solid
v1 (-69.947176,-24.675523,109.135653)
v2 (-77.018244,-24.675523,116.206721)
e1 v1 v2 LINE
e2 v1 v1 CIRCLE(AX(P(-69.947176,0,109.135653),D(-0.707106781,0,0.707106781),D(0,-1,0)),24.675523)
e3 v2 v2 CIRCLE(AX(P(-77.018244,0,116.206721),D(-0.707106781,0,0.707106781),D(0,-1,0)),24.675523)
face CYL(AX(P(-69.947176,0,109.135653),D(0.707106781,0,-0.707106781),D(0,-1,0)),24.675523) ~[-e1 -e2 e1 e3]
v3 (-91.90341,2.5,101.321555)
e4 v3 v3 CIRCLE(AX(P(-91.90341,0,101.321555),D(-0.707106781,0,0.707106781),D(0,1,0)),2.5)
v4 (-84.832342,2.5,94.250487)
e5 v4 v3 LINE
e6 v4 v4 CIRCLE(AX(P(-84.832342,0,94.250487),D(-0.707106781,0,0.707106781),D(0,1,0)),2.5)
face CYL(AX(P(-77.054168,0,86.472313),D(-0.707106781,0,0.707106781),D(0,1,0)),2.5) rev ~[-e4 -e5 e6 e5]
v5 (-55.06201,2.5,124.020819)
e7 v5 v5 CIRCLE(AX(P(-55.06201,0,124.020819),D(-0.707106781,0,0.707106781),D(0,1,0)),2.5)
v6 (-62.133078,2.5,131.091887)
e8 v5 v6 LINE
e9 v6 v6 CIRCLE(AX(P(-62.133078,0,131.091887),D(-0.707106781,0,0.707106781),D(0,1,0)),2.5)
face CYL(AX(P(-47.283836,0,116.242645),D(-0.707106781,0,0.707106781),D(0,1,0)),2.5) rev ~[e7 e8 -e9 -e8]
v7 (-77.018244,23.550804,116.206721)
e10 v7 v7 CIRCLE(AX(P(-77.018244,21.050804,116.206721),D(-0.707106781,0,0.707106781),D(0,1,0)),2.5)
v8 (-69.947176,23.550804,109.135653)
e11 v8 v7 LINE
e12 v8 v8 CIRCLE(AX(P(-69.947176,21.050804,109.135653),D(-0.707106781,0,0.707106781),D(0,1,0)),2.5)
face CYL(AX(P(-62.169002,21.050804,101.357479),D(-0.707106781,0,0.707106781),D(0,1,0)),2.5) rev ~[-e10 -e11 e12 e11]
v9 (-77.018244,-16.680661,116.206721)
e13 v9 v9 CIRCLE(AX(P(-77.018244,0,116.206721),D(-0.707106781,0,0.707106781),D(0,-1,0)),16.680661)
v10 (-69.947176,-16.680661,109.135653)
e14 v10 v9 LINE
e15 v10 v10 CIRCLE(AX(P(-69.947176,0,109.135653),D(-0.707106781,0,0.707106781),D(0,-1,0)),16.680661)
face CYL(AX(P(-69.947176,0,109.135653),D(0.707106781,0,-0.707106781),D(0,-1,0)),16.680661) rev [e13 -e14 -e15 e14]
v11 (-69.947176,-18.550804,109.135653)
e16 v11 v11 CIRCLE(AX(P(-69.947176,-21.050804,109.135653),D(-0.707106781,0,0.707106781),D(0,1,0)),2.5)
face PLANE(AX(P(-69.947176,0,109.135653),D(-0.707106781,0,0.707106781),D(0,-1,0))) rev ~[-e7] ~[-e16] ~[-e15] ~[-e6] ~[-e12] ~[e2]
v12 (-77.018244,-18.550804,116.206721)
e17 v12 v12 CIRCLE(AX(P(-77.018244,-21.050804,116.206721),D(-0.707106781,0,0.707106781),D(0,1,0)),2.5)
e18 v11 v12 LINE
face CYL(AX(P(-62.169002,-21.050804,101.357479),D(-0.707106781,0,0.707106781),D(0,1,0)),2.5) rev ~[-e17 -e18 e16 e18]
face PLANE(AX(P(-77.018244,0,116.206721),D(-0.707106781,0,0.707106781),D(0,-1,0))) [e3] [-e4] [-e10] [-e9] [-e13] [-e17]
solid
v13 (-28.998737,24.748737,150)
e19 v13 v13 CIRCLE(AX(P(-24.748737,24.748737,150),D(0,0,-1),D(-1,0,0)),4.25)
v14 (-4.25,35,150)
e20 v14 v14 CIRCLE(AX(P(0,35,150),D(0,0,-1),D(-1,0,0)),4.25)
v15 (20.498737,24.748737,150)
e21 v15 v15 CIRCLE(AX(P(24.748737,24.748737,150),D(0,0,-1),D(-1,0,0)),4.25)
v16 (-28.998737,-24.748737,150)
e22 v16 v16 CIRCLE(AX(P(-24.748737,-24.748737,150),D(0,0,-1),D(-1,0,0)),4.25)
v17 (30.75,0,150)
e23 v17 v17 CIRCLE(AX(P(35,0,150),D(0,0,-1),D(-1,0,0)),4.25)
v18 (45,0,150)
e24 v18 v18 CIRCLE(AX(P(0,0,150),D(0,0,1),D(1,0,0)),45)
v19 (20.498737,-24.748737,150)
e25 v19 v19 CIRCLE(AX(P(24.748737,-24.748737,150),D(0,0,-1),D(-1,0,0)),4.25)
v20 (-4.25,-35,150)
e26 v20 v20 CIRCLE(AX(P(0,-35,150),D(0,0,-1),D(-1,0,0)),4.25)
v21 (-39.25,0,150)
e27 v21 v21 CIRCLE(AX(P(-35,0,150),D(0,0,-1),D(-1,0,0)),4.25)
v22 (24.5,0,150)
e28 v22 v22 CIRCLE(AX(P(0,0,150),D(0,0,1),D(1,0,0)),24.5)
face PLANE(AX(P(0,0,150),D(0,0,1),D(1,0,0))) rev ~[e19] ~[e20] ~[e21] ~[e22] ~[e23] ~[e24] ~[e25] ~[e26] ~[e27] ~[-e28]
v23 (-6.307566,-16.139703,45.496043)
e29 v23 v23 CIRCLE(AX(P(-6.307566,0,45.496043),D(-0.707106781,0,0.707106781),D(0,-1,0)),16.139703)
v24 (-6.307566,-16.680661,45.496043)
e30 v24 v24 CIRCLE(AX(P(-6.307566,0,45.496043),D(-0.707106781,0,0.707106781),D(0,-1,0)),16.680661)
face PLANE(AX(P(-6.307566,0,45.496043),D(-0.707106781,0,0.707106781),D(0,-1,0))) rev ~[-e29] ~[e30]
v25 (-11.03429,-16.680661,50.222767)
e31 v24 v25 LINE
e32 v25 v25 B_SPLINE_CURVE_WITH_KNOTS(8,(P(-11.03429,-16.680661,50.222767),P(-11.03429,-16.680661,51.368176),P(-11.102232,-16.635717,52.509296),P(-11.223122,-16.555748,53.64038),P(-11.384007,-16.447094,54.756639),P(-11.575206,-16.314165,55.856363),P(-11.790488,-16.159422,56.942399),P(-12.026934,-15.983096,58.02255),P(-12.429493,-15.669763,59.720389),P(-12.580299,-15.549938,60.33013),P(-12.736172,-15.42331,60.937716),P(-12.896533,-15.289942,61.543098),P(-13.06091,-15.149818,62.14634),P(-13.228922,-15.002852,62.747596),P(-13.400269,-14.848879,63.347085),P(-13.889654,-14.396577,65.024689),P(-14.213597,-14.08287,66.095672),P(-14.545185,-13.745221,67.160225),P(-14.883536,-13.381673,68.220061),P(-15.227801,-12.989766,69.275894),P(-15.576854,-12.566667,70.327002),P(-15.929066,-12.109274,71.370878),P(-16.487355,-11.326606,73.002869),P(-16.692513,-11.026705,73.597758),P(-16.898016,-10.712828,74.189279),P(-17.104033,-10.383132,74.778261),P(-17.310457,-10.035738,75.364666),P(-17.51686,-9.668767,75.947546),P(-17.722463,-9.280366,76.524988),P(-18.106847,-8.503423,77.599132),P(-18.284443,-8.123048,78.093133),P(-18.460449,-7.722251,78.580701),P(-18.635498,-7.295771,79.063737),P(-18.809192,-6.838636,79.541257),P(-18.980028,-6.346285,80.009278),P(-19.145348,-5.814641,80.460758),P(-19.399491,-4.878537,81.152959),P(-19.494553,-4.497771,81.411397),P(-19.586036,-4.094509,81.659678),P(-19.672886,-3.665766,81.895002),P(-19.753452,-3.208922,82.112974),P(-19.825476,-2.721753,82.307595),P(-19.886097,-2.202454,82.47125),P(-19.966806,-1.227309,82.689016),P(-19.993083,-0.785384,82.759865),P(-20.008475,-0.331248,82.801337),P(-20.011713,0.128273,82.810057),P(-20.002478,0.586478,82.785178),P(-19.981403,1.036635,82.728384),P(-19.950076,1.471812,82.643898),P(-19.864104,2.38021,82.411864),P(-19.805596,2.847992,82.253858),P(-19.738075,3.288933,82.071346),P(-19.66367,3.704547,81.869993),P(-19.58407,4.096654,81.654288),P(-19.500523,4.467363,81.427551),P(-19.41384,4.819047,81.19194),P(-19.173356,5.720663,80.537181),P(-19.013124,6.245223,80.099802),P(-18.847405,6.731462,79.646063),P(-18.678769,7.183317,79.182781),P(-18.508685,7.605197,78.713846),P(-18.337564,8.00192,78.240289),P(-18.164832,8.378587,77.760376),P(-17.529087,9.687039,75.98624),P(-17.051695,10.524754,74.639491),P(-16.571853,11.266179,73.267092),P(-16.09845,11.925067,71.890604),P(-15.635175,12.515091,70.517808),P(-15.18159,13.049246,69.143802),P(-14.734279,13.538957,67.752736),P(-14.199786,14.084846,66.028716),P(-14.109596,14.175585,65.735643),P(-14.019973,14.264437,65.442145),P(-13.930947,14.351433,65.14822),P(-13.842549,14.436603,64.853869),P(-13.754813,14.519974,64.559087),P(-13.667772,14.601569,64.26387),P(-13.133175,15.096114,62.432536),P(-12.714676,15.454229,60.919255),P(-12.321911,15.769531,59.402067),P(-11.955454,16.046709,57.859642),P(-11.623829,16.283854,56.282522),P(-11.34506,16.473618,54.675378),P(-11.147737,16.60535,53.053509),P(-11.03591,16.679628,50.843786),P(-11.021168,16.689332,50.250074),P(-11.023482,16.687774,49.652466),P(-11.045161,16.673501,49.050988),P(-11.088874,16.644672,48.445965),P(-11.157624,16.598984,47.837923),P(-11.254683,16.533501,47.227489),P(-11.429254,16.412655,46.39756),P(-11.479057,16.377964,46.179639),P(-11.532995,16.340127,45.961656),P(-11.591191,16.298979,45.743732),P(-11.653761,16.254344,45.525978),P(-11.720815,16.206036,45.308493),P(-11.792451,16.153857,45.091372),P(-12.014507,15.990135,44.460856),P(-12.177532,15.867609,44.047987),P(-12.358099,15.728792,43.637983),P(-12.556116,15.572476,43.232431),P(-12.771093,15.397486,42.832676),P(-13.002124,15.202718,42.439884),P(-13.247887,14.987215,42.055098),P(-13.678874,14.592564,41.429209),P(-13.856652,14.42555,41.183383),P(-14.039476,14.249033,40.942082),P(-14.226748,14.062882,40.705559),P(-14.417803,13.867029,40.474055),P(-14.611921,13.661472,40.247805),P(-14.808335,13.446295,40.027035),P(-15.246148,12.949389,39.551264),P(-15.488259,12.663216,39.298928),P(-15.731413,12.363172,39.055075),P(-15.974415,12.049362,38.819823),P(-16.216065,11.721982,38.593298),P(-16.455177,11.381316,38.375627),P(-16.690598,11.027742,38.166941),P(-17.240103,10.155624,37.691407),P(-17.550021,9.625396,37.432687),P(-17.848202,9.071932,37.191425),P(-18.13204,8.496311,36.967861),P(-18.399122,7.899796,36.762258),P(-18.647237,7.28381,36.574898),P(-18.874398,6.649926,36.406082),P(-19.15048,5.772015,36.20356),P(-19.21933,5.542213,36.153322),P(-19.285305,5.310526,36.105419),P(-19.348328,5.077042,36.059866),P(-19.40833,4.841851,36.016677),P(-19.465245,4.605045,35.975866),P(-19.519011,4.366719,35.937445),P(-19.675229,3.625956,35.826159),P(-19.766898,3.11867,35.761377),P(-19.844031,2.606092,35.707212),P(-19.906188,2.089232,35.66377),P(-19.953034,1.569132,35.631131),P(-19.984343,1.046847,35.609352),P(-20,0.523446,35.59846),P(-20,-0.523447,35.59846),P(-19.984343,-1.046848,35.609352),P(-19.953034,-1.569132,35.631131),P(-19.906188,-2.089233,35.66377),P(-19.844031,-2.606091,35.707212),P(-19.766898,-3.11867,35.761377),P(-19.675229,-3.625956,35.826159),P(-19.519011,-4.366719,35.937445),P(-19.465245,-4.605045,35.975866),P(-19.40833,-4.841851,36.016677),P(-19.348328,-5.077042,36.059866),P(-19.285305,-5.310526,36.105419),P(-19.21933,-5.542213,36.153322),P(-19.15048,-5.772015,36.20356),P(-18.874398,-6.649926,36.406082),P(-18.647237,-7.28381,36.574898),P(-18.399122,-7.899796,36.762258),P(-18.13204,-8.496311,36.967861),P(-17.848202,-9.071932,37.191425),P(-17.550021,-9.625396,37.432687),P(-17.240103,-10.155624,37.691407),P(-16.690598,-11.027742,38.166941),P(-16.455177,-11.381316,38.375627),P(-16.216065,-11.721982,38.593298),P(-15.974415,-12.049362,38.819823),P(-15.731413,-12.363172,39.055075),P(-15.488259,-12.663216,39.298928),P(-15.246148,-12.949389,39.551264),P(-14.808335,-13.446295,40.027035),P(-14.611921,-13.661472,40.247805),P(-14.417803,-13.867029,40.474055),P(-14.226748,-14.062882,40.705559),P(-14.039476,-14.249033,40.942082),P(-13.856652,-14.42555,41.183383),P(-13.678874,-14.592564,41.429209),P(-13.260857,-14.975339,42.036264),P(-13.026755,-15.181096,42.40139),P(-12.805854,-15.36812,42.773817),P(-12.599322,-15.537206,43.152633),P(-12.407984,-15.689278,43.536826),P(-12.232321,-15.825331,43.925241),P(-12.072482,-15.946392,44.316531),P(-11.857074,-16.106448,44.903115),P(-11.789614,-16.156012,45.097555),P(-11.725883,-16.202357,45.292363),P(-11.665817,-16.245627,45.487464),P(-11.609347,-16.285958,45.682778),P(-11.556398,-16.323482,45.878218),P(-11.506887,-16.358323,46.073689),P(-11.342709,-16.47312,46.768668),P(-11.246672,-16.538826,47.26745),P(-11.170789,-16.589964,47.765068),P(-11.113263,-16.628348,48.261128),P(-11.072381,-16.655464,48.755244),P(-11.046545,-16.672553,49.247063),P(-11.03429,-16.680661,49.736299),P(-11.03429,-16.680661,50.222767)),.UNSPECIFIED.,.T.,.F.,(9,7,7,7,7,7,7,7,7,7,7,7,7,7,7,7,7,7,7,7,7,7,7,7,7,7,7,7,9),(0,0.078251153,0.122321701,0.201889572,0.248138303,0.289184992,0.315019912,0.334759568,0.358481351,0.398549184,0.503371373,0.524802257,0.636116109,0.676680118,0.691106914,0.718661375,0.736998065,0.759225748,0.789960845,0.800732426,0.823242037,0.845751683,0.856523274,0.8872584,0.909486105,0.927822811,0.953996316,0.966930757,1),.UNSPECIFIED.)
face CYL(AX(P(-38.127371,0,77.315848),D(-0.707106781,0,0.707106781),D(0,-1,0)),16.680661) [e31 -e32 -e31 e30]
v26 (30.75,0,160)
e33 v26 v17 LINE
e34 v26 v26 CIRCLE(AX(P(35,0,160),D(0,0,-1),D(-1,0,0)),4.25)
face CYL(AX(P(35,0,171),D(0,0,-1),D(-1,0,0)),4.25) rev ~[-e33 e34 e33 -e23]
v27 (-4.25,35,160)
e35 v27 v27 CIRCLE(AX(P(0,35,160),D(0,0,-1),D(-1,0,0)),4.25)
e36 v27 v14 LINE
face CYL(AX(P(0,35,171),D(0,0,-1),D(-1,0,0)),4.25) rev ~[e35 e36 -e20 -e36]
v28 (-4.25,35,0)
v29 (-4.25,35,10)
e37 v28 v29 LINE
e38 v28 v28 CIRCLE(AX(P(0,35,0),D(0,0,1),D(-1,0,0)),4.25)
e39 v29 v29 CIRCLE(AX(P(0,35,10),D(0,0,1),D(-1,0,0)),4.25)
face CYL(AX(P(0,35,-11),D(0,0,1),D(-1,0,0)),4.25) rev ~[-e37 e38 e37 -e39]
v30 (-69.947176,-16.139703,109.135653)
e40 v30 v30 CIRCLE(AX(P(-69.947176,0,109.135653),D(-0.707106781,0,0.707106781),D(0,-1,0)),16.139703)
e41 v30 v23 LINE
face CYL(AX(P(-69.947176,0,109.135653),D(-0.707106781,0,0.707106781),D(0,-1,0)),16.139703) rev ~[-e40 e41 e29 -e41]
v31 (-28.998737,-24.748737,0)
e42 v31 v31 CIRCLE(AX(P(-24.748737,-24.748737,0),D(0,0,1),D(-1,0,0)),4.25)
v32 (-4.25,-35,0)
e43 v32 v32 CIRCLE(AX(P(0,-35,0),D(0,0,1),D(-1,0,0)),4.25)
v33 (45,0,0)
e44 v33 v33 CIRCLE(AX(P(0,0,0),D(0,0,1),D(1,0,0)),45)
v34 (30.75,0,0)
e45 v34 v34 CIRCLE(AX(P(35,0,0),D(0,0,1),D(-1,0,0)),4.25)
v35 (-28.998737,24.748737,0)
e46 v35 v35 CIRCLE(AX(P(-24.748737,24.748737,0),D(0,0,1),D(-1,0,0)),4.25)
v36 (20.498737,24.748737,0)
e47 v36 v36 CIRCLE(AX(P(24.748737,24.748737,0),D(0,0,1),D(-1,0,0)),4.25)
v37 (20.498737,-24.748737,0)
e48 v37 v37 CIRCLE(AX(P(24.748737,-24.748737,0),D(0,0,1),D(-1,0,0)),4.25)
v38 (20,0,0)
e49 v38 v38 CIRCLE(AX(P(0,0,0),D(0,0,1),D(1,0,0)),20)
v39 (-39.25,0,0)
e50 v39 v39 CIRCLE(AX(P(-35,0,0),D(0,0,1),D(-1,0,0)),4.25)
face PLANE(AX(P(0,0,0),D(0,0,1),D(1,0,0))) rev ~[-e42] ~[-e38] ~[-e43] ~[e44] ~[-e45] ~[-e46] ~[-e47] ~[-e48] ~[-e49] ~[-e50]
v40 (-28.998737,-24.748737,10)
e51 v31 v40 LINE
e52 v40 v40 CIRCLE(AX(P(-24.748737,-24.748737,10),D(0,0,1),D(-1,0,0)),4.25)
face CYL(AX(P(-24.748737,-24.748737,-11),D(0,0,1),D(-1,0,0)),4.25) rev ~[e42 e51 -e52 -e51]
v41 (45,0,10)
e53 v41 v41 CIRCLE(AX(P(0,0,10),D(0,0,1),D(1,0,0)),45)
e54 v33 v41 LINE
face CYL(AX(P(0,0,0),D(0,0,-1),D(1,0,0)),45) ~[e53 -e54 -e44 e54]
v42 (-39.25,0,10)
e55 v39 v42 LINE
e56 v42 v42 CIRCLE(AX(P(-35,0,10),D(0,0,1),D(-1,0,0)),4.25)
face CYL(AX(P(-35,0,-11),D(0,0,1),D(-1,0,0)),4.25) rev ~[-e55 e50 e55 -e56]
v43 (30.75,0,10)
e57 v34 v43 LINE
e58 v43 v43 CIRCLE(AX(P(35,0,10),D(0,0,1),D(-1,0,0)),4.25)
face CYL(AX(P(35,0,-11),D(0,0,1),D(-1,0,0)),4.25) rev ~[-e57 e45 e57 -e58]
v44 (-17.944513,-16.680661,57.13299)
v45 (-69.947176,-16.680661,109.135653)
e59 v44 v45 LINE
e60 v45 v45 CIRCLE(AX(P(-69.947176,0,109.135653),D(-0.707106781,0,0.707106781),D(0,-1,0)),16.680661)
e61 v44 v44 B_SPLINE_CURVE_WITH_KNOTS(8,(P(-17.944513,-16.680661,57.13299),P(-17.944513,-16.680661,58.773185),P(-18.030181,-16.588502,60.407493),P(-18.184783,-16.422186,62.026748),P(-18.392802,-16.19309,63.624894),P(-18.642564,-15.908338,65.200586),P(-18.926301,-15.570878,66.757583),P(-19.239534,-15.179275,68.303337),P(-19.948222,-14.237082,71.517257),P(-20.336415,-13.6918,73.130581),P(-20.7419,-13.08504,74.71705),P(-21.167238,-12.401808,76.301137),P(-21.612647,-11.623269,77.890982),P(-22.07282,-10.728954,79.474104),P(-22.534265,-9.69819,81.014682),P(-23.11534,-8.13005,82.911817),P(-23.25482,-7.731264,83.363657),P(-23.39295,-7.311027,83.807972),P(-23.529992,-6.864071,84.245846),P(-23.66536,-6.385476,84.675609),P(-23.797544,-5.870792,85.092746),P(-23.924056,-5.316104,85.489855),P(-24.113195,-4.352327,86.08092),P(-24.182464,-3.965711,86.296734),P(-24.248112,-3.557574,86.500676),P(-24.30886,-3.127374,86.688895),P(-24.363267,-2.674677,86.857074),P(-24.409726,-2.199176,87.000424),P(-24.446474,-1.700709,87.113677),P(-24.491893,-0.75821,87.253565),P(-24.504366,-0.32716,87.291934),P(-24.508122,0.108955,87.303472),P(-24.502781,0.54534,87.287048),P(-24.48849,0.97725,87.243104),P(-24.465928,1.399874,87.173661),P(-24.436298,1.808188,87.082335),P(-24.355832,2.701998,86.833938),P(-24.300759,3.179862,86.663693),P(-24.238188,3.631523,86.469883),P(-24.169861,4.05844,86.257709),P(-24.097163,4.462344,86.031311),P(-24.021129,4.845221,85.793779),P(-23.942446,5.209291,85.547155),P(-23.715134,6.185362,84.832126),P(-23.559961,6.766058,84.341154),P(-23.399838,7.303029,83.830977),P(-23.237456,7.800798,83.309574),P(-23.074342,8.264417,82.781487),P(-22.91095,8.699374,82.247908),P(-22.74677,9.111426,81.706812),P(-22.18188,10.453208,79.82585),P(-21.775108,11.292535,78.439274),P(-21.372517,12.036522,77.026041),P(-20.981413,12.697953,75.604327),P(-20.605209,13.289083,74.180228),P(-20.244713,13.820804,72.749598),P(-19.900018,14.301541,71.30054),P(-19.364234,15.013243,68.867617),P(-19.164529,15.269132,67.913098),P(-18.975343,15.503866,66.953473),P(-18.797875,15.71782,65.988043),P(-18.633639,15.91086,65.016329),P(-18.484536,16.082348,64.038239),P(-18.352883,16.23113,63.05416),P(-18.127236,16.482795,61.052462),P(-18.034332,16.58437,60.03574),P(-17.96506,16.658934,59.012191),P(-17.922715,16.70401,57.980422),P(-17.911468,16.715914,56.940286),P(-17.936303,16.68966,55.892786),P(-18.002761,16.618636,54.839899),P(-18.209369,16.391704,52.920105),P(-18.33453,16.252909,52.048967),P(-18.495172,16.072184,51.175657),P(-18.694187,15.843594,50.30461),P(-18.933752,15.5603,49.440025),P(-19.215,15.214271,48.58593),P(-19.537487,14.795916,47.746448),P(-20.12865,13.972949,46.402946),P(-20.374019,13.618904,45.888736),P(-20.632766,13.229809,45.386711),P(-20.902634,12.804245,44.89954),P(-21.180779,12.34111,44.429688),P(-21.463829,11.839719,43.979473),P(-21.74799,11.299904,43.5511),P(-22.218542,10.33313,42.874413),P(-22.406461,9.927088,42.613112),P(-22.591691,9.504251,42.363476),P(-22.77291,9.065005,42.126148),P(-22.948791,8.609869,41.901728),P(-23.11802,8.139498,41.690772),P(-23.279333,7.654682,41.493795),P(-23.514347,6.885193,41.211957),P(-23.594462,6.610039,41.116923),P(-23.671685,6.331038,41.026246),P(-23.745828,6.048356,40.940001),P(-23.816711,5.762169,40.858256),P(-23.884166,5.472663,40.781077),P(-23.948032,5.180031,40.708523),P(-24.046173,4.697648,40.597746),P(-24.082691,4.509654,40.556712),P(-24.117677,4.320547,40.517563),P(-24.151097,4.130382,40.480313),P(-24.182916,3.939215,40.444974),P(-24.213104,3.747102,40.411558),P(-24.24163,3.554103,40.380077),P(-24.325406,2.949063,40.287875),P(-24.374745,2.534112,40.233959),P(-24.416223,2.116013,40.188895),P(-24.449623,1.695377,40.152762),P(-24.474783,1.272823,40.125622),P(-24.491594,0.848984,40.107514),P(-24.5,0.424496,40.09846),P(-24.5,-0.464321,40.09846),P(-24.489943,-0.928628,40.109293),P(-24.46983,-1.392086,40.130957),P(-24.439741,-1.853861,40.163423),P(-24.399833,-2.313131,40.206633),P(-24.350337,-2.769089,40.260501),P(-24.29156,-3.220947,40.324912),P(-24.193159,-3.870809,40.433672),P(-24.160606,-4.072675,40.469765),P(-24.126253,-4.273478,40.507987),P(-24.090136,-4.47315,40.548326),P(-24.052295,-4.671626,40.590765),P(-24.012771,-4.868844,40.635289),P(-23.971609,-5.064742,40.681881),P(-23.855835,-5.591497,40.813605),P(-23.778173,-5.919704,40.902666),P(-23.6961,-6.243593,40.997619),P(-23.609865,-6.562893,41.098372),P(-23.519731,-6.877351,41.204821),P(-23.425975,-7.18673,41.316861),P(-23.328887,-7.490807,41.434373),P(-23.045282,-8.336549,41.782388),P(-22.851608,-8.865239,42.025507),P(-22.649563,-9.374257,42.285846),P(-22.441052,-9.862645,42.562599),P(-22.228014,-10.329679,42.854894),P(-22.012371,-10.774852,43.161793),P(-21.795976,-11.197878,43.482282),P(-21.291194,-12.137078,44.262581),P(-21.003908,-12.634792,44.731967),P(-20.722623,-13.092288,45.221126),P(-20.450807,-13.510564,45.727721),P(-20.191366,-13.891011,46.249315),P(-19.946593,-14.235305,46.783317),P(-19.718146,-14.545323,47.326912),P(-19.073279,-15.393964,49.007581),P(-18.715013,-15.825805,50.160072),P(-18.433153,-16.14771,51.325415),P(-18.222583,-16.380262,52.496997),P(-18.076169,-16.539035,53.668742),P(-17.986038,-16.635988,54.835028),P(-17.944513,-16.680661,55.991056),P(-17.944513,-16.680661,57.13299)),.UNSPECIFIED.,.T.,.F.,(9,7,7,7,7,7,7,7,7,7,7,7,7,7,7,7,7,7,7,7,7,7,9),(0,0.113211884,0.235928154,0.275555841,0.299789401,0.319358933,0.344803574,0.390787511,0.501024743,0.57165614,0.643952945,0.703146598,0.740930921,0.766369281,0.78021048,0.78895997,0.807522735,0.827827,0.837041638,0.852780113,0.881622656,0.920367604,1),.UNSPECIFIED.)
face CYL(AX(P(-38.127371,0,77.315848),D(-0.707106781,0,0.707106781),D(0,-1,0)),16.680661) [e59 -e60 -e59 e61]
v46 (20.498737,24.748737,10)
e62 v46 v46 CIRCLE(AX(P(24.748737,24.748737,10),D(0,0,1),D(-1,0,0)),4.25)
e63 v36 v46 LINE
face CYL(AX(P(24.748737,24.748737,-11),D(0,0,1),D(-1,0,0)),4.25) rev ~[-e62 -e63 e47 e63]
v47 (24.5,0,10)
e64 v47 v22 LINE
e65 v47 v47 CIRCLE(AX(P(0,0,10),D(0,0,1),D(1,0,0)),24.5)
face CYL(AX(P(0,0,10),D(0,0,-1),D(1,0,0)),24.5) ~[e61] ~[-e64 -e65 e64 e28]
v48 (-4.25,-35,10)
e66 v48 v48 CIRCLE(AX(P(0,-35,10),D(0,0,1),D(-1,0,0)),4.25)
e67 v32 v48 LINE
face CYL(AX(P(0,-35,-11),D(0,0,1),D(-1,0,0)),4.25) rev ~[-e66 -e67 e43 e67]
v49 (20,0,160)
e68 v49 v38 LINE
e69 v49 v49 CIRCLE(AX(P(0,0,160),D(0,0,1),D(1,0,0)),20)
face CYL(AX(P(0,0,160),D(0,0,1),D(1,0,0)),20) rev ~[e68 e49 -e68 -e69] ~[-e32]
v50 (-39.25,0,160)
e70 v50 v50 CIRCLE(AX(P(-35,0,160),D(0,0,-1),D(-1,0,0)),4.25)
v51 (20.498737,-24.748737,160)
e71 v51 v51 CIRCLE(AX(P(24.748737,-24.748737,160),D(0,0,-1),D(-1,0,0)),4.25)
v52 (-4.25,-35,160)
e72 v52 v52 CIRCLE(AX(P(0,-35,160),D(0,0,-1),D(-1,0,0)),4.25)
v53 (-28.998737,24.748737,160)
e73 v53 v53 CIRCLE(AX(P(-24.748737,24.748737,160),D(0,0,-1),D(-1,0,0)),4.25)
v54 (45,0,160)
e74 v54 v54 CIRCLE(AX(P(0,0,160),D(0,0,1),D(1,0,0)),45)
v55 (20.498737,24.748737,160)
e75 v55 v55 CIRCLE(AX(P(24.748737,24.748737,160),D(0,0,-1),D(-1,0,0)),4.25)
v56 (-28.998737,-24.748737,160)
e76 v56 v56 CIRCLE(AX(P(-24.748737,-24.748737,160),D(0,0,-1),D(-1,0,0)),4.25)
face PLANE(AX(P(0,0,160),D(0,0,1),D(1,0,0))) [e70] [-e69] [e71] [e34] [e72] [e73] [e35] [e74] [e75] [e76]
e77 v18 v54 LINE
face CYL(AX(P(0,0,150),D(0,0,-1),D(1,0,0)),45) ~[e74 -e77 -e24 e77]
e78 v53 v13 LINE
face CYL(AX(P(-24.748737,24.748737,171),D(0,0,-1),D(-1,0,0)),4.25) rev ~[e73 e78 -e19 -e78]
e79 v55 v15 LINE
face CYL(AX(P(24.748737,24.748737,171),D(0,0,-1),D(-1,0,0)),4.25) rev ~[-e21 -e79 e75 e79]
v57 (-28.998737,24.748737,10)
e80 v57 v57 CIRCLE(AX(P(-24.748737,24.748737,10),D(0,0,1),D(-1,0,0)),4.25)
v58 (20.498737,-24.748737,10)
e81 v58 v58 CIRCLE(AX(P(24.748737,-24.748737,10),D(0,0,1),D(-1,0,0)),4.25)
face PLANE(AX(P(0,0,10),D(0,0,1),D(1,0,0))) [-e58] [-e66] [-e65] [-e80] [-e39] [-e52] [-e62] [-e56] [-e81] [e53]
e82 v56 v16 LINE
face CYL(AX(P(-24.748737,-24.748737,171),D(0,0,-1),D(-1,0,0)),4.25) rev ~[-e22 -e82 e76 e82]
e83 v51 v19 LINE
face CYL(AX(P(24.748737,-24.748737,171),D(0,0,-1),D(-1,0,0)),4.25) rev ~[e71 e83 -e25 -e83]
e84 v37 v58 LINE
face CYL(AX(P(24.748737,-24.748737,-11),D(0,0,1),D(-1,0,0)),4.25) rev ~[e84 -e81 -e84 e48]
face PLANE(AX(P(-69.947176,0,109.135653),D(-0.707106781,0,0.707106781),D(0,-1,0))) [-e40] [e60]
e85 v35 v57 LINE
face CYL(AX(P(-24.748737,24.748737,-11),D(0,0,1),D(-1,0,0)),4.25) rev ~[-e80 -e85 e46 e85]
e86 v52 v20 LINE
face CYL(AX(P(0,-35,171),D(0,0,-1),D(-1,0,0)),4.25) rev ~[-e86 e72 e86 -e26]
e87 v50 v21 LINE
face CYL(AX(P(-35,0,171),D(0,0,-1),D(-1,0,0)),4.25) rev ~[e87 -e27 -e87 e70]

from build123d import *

# Parameters (mm, degrees)
F0_R      = 45
F1_DEPTH  = 10
F3_R      = 24.5
F4_DEPTH  = 140
F5_R      = 45
F5_R_2    = 24.5
F6_DEPTH  = 10
F7_R      = 20
F8_DEPTH  = 500
F10_D     = 8.5
F10_DEPTH = 11
F10_TIP   = 2.5536576309
F12_D     = 8.5
F12_DEPTH = 11
F12_TIP   = 2.5536576309
F15_R     = 16.6806608176
F16_DEPTH = 45
F17_R     = 24.6755230695
F17_R_2   = 16.6806608176
F18_DEPTH = 10
F20_D     = 5
F20_DEPTH = 11
F20_TIP   = 1.5021515476
F21_R     = 16.1397026247
F22_DEPTH = 90


with BuildPart() as f1:
    # F0 (on Top) → F1 (new body)
    with BuildSketch(Plane.XY):
        Circle(F0_R)
    extrude(amount=F1_DEPTH)

    # F3 (on face) → F4 (join)
    with BuildSketch(Plane.XY.offset(10)):
        Circle(F3_R)
    extrude(amount=F4_DEPTH)

    # F5 (on face) → F6 (join)
    with BuildSketch(Plane.XY.offset(150)):
        Circle(F5_R)
        Circle(F5_R_2, mode=Mode.SUBTRACT)
        Circle(F5_R_2)
    extrude(amount=F6_DEPTH)

    # F7 (on face) → F8 (cut)
    with BuildSketch(Plane.XY.offset(160)):
        Circle(F7_R)
    extrude(amount=-F8_DEPTH, mode=Mode.SUBTRACT)

    # F10
    with Locations(Plane(origin=(0, 0, 0), x_dir=(1, 0, 0), z_dir=(0, 0, -1))):
        with Locations((0, 35), (24.7487373415, 24.7487373415), (35, 0), (24.7487373415, -24.7487373415), (0, -35), (-24.7487373415, -24.7487373415), (-35, 0), (-24.7487373415, 24.7487373415)):
            Hole(F10_D / 2, depth=F10_DEPTH)
            with Locations((0, 0, -(F10_DEPTH + F10_TIP / 2))):  # 118° drill point
                Cone(0, F10_D / 2, F10_TIP, mode=Mode.SUBTRACT)

    # F12
    with Locations(Plane.XY.offset(160)):
        with Locations((-24.7487373415, 24.7487373415), (0, 35), (24.7487373415, 24.7487373415), (35, 0), (24.7487373415, -24.7487373415), (0, -35), (-24.7487373415, -24.7487373415), (-35, 0)):
            Hole(F12_D / 2, depth=F12_DEPTH)
            with Locations((0, 0, -(F12_DEPTH + F12_TIP / 2))):  # 118° drill point
                Cone(0, F12_D / 2, F12_TIP, mode=Mode.SUBTRACT)

    # F15 (on line) → F16 (join, symmetric)
    with BuildSketch(Plane(origin=(-57.7216097032, 0, 57.7216097032), x_dir=(0, -1, 0), z_dir=(-0.7071067812, 0, 0.7071067812))):
        with Locations((0, 27.7104377747)):
            Circle(F15_R)
    extrude(amount=F16_DEPTH, both=True)

    # F21 (on face) → F22 (cut)
    with BuildSketch(Plane(origin=(-89.5414148566, 0, 89.5414148566), x_dir=(0, -1, 0), z_dir=(-0.7071067812, 0, 0.7071067812))):
        with Locations((0, 27.7104377747)):
            Circle(F21_R)
    extrude(amount=-F22_DEPTH, mode=Mode.SUBTRACT)


with BuildPart() as f18:
    # F17 (on face) → F18 (new body)
    with BuildSketch(Plane(origin=(-89.5414148566, 0, 89.5414148566), x_dir=(0, -1, 0), z_dir=(-0.7071067812, 0, 0.7071067812))):
        with Locations((0, 27.7104377747)):
            Circle(F17_R)
        with Locations((0, 27.7104377747)):
            Circle(F17_R_2, mode=Mode.SUBTRACT)
    extrude(amount=F18_DEPTH)

    # F20
    with Locations(Plane(origin=(-89.5414148566, 0, 89.5414148566), x_dir=(0, -1, 0), z_dir=(0.7071067812, 0, -0.7071067812))):
        with Locations((0, -48.7612413972), (21.0508036225, -27.7104377747), (0, -6.6596341521), (-21.0508036225, -27.7104377747)):
            Hole(F20_D / 2, depth=F20_DEPTH)
            with Locations((0, 0, -(F20_DEPTH + F20_TIP / 2))):  # 118° drill point
                Cone(0, F20_D / 2, F20_TIP, mode=Mode.SUBTRACT)


solid = Compound([f1.part, f18.part])
